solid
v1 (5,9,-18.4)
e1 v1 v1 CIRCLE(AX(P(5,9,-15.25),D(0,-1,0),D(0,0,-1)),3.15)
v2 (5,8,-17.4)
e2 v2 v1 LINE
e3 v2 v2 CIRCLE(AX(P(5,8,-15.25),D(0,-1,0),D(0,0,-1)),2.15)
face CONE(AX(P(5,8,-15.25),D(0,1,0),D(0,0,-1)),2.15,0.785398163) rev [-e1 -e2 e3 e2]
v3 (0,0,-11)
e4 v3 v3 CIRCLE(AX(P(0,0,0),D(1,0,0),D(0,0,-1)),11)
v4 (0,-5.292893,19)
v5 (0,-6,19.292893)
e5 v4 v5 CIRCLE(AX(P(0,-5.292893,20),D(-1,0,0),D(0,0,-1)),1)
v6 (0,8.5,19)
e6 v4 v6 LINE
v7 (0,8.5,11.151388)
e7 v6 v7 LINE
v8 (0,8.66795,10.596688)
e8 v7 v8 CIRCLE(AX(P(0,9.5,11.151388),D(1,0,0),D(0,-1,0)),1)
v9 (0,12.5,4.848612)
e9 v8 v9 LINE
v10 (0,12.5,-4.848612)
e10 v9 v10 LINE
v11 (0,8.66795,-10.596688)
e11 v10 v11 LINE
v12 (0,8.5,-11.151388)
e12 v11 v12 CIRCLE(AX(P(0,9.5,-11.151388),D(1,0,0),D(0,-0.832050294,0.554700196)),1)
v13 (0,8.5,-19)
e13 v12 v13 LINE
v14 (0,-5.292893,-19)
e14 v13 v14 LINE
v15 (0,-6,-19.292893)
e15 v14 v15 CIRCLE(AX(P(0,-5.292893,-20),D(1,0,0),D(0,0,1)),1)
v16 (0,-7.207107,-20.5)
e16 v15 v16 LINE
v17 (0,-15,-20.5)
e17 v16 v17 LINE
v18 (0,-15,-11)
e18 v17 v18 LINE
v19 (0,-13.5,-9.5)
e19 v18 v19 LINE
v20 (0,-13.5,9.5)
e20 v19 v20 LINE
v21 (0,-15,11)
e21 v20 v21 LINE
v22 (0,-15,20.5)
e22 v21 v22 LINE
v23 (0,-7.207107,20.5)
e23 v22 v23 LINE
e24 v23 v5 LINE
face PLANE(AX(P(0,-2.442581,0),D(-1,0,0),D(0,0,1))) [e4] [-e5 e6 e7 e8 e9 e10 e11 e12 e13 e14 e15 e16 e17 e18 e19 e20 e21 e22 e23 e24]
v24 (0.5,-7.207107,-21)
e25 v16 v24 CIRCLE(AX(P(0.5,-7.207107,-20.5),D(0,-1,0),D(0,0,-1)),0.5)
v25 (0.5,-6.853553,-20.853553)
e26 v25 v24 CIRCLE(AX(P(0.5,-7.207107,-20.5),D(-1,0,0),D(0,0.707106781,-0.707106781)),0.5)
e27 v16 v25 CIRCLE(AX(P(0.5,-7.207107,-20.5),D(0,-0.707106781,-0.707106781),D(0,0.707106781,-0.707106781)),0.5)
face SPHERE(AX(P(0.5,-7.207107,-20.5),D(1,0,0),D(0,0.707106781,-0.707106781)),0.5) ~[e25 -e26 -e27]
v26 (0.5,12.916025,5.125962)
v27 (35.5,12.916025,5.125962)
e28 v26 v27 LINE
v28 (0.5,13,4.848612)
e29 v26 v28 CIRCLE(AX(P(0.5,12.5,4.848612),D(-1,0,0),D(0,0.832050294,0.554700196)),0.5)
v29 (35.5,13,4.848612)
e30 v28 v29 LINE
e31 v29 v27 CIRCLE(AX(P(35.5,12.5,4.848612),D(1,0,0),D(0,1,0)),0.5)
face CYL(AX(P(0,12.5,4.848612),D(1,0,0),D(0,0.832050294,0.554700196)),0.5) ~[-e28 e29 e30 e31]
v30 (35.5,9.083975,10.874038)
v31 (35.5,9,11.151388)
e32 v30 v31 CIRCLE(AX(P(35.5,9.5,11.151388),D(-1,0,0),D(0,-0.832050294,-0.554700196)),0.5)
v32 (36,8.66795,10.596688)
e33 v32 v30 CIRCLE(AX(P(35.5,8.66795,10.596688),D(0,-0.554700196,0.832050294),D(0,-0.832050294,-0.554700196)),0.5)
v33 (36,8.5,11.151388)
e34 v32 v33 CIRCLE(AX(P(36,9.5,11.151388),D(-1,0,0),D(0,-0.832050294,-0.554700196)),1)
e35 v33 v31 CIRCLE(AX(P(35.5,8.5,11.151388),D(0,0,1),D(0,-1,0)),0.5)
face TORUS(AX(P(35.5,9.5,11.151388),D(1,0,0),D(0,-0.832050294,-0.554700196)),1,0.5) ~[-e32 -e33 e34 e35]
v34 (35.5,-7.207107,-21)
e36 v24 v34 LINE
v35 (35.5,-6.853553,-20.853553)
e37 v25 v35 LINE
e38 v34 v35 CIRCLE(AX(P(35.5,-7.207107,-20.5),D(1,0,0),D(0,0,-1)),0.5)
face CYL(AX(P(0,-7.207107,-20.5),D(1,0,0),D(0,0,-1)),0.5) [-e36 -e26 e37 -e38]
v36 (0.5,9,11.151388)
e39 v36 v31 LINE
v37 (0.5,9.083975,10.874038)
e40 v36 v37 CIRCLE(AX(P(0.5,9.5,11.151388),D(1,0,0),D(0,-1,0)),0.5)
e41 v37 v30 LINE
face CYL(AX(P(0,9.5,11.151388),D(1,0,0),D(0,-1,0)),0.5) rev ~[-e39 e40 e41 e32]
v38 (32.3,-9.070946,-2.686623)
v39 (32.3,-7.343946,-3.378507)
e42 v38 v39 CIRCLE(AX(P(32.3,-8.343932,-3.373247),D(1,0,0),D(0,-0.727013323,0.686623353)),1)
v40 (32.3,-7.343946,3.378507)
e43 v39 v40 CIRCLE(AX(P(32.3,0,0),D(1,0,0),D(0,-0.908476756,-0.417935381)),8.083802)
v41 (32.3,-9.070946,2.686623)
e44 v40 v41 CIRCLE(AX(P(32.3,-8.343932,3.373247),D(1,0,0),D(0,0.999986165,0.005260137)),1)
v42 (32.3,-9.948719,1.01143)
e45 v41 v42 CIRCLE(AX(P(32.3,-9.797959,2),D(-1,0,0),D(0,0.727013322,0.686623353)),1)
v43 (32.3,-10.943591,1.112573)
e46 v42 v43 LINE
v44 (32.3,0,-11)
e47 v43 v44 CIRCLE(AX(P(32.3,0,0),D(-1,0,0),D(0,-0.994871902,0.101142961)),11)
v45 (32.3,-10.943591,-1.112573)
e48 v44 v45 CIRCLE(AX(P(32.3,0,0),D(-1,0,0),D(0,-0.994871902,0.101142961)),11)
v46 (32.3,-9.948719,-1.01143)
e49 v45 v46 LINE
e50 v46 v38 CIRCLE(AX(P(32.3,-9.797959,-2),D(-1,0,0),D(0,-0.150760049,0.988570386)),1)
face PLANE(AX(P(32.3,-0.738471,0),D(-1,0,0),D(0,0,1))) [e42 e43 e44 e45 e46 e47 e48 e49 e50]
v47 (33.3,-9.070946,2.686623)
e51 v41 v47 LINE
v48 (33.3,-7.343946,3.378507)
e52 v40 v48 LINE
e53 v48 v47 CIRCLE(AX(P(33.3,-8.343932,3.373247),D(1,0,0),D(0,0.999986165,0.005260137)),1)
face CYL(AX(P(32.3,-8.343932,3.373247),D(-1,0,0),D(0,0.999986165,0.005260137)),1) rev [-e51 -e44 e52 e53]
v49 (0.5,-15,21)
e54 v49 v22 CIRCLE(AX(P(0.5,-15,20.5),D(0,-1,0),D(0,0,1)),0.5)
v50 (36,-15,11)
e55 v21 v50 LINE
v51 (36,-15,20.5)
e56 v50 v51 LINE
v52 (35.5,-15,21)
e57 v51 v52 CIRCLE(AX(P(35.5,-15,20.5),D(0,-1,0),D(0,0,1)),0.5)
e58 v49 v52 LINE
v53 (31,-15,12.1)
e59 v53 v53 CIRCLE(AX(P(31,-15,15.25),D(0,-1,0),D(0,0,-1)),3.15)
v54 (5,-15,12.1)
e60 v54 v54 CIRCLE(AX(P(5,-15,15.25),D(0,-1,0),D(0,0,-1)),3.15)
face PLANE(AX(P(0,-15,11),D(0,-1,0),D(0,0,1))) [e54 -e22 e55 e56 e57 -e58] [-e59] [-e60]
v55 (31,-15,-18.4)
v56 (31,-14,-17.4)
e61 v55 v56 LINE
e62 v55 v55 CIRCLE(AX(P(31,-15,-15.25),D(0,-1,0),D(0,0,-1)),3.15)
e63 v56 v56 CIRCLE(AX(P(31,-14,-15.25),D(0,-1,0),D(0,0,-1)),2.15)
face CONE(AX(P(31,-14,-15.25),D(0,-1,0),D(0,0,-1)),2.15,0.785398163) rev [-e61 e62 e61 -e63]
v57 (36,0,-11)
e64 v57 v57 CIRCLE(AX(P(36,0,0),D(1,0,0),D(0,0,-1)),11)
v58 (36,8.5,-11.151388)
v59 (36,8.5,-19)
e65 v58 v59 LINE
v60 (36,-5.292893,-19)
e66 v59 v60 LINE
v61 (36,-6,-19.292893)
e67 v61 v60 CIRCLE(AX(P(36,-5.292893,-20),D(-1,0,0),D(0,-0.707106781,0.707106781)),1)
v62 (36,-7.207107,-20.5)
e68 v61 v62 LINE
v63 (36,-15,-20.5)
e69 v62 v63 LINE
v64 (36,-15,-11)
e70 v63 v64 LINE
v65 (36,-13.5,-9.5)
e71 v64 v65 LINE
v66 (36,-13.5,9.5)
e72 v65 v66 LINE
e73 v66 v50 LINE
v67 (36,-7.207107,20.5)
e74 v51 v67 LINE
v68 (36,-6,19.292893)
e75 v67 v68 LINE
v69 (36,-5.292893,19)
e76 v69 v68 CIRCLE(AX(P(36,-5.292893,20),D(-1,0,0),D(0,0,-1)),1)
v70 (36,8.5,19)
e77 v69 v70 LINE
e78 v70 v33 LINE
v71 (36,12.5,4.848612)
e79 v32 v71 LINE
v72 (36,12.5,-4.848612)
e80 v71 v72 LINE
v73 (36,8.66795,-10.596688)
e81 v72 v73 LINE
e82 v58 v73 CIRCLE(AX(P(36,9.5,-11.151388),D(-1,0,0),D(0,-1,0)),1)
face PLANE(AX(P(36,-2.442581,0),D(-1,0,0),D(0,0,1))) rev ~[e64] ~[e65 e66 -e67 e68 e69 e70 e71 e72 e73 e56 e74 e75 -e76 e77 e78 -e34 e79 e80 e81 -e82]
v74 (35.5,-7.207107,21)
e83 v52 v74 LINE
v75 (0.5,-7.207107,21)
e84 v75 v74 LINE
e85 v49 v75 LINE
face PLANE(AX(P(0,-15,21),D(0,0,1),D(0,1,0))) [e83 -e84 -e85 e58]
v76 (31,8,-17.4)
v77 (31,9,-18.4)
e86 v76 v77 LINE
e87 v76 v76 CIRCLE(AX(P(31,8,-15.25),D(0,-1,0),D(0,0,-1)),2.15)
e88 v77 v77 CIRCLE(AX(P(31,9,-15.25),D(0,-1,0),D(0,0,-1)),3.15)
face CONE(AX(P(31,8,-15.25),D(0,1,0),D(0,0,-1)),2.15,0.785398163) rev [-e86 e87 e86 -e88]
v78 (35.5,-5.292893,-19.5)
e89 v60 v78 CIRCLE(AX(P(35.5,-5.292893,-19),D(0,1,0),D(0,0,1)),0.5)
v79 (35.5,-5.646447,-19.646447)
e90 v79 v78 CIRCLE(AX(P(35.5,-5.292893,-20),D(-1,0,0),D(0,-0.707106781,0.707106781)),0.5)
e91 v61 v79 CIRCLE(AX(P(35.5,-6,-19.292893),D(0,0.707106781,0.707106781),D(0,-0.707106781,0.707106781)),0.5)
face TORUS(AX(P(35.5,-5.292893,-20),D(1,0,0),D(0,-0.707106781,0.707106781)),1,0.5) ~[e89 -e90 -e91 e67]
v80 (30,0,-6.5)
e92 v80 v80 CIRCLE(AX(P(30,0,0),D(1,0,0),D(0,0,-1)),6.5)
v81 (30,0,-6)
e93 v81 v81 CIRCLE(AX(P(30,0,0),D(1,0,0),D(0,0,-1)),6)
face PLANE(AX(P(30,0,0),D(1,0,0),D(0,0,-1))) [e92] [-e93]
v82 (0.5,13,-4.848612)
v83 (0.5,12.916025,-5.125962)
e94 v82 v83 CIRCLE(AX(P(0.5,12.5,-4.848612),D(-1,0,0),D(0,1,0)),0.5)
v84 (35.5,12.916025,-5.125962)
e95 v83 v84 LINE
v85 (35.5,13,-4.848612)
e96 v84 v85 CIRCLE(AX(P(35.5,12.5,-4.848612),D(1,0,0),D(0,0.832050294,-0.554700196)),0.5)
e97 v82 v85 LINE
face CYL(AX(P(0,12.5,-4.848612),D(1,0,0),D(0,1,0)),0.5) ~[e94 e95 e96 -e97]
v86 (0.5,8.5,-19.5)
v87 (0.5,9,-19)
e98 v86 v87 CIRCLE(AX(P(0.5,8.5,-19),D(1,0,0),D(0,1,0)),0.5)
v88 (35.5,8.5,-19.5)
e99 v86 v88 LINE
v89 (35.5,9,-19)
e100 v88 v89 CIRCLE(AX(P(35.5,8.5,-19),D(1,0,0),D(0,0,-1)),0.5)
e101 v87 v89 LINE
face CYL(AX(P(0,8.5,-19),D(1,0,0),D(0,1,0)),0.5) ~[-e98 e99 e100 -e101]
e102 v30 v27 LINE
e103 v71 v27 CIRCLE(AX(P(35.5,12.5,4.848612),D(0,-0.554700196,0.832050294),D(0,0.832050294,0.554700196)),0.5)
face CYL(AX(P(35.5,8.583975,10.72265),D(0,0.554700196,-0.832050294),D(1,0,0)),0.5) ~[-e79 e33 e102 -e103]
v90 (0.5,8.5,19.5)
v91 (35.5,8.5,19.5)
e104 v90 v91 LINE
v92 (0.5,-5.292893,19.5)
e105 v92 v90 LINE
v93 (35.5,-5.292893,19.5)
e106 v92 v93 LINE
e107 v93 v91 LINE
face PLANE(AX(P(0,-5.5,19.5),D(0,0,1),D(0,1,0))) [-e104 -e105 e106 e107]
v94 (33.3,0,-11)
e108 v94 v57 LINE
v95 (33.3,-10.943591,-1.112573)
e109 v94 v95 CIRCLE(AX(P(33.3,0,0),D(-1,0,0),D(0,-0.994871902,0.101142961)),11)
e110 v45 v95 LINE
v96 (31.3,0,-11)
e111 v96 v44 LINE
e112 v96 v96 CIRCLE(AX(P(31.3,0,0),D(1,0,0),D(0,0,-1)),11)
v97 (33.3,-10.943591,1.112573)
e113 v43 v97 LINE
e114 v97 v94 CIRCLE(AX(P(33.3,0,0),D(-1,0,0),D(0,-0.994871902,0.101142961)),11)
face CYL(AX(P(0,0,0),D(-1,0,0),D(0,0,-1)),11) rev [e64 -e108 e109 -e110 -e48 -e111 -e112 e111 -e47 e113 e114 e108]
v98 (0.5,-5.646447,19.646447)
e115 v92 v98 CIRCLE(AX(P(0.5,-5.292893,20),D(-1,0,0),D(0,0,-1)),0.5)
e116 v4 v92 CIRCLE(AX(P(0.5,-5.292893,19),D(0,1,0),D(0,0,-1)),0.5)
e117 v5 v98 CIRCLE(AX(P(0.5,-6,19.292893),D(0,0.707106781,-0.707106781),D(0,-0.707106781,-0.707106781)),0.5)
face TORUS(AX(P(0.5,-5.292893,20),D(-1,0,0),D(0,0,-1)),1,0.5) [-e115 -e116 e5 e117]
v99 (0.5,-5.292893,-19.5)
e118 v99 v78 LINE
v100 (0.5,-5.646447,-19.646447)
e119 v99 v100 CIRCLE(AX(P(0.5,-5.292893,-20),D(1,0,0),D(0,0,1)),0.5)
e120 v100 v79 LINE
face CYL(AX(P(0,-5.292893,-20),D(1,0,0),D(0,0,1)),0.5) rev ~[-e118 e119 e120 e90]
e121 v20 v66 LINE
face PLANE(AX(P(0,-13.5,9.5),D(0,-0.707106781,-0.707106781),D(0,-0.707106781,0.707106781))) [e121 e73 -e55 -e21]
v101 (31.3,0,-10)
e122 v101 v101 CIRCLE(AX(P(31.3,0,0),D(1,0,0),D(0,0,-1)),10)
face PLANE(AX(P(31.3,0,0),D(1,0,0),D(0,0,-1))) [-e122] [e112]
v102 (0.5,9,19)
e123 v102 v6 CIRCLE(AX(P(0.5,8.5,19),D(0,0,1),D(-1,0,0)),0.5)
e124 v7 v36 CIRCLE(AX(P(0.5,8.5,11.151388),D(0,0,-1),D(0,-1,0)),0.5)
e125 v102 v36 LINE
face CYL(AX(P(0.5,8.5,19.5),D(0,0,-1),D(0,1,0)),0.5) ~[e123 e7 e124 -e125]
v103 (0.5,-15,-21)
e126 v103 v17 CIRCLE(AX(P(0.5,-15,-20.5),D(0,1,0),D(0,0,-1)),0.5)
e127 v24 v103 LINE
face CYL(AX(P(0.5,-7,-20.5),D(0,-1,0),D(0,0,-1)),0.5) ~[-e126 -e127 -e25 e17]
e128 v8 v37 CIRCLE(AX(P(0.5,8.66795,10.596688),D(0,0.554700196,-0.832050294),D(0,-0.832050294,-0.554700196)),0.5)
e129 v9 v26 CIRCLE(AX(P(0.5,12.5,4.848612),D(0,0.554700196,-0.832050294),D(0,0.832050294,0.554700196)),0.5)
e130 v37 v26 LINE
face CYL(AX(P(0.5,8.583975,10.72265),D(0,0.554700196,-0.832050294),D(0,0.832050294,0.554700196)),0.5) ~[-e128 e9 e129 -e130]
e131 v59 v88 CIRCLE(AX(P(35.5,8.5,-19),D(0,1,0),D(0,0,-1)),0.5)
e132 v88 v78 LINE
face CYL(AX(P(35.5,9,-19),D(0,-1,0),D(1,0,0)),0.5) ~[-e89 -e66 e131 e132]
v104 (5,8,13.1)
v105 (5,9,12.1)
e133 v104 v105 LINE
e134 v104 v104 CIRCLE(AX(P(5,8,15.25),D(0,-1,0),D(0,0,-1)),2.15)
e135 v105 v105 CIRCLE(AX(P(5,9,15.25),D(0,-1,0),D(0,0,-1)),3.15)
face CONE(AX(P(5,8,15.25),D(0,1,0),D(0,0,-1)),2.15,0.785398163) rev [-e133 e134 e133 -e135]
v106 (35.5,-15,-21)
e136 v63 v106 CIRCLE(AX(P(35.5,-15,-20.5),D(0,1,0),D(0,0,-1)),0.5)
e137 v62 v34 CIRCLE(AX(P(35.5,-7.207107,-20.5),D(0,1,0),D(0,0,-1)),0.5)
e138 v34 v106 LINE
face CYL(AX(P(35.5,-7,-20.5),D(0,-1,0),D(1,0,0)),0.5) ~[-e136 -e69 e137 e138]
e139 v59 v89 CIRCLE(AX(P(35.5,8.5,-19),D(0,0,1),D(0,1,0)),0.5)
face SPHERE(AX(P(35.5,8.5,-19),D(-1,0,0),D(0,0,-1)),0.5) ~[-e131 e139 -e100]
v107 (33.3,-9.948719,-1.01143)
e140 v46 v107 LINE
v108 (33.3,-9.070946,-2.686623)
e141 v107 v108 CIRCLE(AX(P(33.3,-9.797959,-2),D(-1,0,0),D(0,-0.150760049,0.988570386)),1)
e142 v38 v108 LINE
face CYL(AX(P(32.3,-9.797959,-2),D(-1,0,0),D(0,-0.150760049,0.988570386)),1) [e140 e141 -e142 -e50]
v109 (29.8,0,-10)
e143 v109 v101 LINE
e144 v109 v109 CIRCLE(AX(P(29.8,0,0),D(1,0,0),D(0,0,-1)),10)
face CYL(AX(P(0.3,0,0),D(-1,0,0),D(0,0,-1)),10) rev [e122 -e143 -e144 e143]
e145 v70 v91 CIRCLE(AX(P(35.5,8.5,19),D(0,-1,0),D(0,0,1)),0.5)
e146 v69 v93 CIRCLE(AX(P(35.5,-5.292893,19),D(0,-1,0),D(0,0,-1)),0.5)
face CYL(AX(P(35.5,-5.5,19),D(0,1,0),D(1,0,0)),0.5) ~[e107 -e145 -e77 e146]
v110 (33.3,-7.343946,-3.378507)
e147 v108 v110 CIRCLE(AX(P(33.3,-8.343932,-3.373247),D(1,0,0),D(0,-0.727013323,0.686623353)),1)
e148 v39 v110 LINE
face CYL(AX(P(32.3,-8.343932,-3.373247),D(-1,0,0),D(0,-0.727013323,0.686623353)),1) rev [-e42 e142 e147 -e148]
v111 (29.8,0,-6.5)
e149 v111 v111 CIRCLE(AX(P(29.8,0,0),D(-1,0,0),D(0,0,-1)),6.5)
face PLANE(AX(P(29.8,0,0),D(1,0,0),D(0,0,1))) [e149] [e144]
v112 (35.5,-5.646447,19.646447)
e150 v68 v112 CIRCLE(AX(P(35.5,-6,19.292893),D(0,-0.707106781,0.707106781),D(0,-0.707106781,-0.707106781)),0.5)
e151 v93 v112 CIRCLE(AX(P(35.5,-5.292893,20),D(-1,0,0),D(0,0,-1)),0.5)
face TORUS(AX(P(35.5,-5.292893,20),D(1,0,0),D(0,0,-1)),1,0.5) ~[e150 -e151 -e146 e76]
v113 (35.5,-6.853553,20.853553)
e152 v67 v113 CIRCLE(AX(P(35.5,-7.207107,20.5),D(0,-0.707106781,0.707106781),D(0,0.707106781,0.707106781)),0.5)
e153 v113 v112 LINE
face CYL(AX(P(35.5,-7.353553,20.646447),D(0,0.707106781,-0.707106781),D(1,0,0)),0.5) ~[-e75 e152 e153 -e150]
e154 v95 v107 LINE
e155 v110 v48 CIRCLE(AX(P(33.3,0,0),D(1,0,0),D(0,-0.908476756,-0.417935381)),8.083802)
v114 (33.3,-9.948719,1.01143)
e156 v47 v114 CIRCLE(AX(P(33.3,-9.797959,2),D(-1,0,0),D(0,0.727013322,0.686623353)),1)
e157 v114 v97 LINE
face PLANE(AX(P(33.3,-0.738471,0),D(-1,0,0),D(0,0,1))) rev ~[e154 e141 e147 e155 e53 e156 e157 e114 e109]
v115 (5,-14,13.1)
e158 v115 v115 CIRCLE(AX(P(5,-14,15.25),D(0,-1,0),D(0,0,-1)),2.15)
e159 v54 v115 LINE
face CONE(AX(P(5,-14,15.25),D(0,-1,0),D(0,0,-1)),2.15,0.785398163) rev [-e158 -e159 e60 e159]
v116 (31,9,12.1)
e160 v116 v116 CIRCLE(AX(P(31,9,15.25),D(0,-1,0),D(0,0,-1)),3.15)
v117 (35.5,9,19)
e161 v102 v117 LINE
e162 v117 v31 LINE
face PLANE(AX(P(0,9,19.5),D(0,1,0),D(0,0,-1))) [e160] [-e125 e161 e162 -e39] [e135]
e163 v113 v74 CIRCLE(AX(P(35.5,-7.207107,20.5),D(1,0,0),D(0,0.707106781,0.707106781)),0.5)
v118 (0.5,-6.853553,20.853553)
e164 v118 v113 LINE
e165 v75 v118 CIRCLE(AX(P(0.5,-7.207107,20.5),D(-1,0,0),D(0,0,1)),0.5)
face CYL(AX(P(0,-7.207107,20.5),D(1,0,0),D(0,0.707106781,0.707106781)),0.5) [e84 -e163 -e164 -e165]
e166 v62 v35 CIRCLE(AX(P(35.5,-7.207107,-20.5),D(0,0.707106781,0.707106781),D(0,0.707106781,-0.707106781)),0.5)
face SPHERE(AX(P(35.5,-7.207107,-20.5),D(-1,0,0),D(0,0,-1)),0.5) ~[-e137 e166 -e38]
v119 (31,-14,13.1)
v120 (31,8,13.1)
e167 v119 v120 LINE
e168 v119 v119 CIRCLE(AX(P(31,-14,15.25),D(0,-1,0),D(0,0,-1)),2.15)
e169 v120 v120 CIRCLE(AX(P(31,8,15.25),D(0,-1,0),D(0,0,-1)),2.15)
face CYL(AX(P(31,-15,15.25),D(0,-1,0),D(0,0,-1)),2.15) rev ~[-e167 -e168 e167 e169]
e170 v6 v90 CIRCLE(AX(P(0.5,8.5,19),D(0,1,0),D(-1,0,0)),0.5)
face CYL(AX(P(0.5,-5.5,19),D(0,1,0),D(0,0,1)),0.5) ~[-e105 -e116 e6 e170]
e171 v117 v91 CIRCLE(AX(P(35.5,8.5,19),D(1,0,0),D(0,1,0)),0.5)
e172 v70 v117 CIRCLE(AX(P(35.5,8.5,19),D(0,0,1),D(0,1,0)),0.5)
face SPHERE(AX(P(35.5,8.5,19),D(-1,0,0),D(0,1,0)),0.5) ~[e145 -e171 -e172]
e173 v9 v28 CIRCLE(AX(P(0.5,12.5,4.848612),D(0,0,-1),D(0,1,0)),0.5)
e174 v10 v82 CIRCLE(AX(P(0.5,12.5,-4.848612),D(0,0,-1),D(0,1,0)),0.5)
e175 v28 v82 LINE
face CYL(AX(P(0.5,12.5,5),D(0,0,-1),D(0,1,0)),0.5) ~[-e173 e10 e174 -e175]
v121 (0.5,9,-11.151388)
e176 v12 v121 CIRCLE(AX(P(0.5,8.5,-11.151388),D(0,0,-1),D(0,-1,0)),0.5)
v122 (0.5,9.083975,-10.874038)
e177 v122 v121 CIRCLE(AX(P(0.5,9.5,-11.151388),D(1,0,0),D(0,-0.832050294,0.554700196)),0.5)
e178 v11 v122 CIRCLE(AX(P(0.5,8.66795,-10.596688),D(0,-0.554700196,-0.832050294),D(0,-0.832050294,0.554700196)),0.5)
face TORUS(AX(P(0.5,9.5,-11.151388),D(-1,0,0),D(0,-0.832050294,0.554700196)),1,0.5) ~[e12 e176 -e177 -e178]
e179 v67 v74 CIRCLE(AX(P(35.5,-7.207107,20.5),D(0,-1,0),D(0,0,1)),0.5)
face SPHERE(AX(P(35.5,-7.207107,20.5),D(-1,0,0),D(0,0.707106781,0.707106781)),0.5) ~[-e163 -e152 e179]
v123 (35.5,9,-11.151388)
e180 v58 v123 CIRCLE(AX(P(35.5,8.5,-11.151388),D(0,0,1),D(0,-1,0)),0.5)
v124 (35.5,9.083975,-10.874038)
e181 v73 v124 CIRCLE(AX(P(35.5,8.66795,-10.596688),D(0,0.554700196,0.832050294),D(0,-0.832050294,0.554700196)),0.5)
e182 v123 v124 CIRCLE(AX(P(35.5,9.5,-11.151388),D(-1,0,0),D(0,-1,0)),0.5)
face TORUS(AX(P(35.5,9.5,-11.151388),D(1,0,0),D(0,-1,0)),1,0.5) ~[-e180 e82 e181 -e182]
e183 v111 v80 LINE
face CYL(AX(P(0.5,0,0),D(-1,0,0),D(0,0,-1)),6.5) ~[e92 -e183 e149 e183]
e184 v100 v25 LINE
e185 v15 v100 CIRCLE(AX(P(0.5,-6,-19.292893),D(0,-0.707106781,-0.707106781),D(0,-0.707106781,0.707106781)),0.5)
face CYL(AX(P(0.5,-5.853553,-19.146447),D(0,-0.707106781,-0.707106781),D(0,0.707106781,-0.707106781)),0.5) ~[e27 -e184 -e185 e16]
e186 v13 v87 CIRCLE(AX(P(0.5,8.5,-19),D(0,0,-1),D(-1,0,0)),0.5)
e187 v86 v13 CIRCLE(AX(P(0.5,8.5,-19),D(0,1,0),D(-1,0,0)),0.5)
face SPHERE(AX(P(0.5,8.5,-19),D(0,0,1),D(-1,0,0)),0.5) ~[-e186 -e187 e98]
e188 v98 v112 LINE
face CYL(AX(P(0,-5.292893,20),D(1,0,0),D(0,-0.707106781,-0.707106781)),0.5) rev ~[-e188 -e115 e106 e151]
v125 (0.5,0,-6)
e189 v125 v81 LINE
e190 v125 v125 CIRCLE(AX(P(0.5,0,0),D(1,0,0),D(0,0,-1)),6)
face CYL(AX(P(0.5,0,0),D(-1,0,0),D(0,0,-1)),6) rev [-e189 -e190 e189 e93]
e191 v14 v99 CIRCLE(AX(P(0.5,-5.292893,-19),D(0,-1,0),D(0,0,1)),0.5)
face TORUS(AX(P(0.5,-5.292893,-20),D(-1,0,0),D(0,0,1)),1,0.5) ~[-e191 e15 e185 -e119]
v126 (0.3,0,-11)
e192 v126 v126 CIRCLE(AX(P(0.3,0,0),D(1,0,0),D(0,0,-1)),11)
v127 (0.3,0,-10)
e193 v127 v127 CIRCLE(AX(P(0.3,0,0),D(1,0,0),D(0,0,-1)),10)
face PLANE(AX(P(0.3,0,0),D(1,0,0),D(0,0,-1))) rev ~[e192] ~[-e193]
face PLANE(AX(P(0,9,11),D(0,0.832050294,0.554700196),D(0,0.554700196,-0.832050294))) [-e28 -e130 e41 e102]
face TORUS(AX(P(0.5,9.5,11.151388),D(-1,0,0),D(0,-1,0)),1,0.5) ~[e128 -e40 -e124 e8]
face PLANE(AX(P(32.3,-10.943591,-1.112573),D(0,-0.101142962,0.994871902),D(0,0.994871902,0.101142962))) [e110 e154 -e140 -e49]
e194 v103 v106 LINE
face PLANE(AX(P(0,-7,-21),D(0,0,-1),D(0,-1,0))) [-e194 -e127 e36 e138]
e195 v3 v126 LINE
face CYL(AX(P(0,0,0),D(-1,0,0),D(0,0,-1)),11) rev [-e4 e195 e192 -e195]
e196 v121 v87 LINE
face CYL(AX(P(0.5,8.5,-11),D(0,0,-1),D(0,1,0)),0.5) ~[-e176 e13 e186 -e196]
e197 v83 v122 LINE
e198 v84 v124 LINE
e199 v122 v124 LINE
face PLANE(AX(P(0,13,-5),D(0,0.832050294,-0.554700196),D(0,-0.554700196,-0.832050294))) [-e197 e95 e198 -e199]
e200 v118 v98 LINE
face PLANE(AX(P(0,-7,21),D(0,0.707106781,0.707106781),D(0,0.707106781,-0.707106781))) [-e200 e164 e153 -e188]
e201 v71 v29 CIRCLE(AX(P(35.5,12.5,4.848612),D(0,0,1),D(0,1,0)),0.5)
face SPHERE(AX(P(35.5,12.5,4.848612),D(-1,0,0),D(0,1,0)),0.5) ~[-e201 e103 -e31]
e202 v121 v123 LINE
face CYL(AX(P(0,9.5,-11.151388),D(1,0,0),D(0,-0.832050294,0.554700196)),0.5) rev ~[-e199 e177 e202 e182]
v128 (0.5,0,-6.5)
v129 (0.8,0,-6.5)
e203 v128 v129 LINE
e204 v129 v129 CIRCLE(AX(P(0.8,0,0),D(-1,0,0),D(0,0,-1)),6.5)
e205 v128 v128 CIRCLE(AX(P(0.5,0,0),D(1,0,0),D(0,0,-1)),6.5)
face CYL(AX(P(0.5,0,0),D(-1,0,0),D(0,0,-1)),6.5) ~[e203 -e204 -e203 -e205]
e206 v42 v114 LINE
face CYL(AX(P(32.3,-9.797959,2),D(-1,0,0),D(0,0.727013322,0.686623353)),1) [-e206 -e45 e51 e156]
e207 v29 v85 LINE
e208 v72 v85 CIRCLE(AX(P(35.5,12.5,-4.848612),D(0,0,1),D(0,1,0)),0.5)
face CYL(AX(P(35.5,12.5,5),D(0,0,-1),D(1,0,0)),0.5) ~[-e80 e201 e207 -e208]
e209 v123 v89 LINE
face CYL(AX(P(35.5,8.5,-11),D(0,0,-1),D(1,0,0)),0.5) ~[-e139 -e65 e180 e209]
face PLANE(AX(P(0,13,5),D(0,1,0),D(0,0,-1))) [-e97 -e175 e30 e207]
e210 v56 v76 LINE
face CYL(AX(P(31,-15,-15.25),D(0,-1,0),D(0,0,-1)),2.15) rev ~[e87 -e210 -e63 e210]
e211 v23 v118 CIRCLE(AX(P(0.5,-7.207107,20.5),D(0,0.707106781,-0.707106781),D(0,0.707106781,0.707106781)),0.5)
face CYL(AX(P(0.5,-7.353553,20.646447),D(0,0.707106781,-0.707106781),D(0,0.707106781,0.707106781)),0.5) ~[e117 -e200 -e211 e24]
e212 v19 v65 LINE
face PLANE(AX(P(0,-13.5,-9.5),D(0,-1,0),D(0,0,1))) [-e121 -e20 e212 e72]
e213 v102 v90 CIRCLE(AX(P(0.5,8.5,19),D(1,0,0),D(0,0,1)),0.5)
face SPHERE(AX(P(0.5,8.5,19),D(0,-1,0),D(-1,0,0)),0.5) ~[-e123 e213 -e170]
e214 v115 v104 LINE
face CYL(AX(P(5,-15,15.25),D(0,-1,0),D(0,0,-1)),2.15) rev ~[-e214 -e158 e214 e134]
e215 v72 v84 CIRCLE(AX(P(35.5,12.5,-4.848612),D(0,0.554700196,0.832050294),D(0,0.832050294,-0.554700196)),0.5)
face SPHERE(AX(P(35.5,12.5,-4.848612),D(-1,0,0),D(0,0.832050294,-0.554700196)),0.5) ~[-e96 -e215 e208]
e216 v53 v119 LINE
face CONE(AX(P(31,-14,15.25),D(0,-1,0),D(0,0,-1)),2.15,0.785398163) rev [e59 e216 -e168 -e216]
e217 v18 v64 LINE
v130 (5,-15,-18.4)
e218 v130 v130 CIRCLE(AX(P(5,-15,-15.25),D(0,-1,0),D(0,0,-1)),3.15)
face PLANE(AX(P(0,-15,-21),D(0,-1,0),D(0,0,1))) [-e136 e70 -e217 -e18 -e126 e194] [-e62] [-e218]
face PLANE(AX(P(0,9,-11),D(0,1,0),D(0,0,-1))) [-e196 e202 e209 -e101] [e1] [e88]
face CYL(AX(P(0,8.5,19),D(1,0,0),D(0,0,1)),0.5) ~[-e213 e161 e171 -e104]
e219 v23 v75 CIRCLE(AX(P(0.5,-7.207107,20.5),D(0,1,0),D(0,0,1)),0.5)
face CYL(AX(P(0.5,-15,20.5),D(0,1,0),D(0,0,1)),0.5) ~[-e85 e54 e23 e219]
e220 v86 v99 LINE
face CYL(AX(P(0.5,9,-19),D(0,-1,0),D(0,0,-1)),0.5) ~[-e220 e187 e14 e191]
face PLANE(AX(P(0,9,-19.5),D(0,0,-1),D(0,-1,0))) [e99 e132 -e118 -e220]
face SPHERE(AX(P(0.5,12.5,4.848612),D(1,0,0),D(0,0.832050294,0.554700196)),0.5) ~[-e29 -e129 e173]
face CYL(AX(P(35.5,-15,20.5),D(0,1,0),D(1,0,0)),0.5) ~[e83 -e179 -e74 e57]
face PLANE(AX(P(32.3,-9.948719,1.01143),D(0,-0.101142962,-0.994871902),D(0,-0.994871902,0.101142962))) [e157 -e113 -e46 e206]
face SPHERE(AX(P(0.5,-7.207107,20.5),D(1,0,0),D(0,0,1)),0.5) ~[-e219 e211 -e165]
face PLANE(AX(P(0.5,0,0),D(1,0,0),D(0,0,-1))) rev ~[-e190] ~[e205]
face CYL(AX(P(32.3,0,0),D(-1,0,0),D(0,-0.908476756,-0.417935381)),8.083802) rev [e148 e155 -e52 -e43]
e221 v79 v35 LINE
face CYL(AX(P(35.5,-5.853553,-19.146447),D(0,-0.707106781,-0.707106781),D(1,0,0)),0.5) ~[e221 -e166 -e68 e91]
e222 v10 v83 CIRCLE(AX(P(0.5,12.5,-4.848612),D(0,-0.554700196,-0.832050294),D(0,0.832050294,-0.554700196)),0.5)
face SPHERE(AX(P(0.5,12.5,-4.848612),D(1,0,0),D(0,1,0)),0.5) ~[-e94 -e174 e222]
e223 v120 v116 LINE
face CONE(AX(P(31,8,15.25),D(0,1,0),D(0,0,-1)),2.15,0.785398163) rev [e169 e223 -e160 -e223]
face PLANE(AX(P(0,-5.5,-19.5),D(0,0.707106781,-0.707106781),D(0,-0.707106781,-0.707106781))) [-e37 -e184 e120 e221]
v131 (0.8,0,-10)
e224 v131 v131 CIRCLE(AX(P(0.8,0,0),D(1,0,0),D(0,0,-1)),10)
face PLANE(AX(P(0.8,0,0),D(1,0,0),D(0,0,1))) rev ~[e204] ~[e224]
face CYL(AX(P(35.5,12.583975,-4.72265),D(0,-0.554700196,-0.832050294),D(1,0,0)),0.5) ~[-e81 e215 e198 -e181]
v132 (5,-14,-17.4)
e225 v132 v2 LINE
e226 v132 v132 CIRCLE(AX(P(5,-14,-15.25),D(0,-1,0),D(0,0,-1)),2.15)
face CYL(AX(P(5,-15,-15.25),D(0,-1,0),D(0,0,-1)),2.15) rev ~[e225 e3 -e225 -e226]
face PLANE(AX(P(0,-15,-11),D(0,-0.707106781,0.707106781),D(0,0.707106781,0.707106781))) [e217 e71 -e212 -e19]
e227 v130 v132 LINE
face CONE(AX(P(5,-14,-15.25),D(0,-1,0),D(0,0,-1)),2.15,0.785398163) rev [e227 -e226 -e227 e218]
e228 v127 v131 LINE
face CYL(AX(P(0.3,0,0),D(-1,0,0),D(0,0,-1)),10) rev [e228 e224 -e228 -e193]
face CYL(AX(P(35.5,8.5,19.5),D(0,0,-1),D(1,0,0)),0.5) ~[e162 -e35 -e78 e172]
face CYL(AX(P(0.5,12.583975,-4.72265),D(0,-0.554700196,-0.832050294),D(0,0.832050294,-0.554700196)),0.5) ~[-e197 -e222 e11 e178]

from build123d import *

# Parameters (mm, degrees)
SKETCH1_R           = 11
BOSS_EXTRUDE1_DEPTH = 36
EXTRUDE_THIN1_START = 0.5
SKETCH1_4_R         = 6.5
SKETCH1_4_R_2       = 6
EXTRUDE_THIN1_DEPTH = 29.5
BOSS_EXTRUDE2_START = 0.8
SKETCH1_5_R         = 10
SKETCH1_5_R_2       = 6
BOSS_EXTRUDE2_DEPTH = 29
BOSS_EXTRUDE3_START = 0.3
SKETCH1_6_R         = 11
SKETCH1_6_R_2       = 10
BOSS_EXTRUDE3_DEPTH = 31
BOSS_EXTRUDE4_START = 1
BOSS_EXTRUDE4_DEPTH = 1
FILLET1_R           = 0.5
SKETCH4_R           = 2.15
CUT_EXTRUDE3_DEPTH  = 51.209560914
CHAMFER1_SIZE       = 1


with BuildPart() as part:
    # Sketch1 → Boss-Extrude1 (new body)
    with BuildSketch(Plane(origin=(0, 0, 0), x_dir=(0, 0, -1), z_dir=(1, 0, 0))):
        Polygon((-21, -15), (-11, -15), (-9.5, -13.5), (9.5, -13.5), (11, -15), (21, -15), (21, -7), (19.5, -5.5), (19.5, 9), (11, 9), (5, 13), (-5, 13), (-11, 9), (-19.5, 9), (-19.5, -5.5), (-21, -7), align=None)
        Circle(SKETCH1_R, mode=Mode.SUBTRACT)
    extrude(amount=BOSS_EXTRUDE1_DEPTH)



with BuildPart() as body_2:
    # Sketch1<4> → Extrude-Thin1 (new body)
    with BuildSketch(Plane(origin=(0, 0, 0), x_dir=(0, 0, -1), z_dir=(1, 0, 0)).offset(EXTRUDE_THIN1_START)):
        Circle(SKETCH1_4_R)
        Circle(SKETCH1_4_R_2, mode=Mode.SUBTRACT)
    extrude(amount=EXTRUDE_THIN1_DEPTH)

    # Sketch1<5> → Boss-Extrude2 (add)
    with BuildSketch(Plane(origin=(0, 0, 0), x_dir=(0, 0, -1), z_dir=(1, 0, 0)).offset(BOSS_EXTRUDE2_START)):
        Circle(SKETCH1_5_R)
        Circle(SKETCH1_5_R_2, mode=Mode.SUBTRACT)
    extrude(amount=BOSS_EXTRUDE2_DEPTH)


with BuildPart() as part_1:
    add(part.part)

    add(body_2.part)  # Boss-Extrude3 merges body 2
    # Sketch1<6> → Boss-Extrude3 (add)
    with BuildSketch(Plane(origin=(0, 0, 0), x_dir=(0, 0, -1), z_dir=(1, 0, 0)).offset(BOSS_EXTRUDE3_START)):
        Circle(SKETCH1_6_R)
        Circle(SKETCH1_6_R_2, mode=Mode.SUBTRACT)
    extrude(amount=BOSS_EXTRUDE3_DEPTH)

    # Sketch3 → Boss-Extrude4 (add)
    with BuildSketch(Plane(origin=(31.3, 0, 0), x_dir=(0, 0, -1), z_dir=(1, 0, 0)).offset(BOSS_EXTRUDE4_START)):
        with BuildLine():
            Line((-1.011429614, -9.94871902), (-1.112572576, -10.943590922))
            ThreePointArc((-1.112572576, -10.943590922), (0, 11), (1.112572576, -10.943590922))
            Line((1.112572576, -10.943590922), (1.011429614, -9.94871902))
            ThreePointArc((1.011429614, -9.94871902), (1.535872296, -8.912190675), (2.686623353, -9.070945649))
            ThreePointArc((2.686623353, -9.070945649), (4.301522401, -8.715825098), (3.378506843, -7.343946161))
            ThreePointArc((3.378506843, -7.343946161), (0, 8.083801933), (-3.378506843, -7.343946161))
            ThreePointArc((-3.378506843, -7.343946161), (-4.301522401, -8.715825098), (-2.686623353, -9.070945649))
            ThreePointArc((-2.686623353, -9.070945649), (-1.535872296, -8.912190675), (-1.011429614, -9.94871902))
        make_face()
    extrude(amount=BOSS_EXTRUDE4_DEPTH)

    # Fillet1
    fillet1_edges = [part_1.edges().sort_by_distance(p)[0] for p in [
        (18, -5.5, -19.5),
        (18, -5.5, 19.5),
        (18, -7, 21),
        (18, -7, -21),
        (18, 9, -11),
        (18, 9, 11),
        (18, 13, 5),
        (18, 13, -5),
        (18, 9, -19.5),
        (18, 9, 19.5),
        (36, 11, -8),
        (36, 11, 8),
        (36, 1.75, 19.5),
        (0, -6.25, 20.25),
        (0, 11, 8),
        (36, -6.25, -20.25),
        (36, -11, -21),
        (36, 1.75, -19.5),
        (36, 13, 0),
        (36, 9, -15.25),
        (36, 9, 15.25),
        (36, -6.25, 20.25),
        (36, -11, 21),
        (0, -11, -21),
        (0, -6.25, -20.25),
        (0, 1.75, -19.5),
        (0, 11, -8),
        (0, 9, -15.25),
        (0, 13, 0),
        (0, -11, 21),
        (0, 1.75, 19.5),
        (0, 9, 15.25),
    ]]
    fillet(fillet1_edges, radius=FILLET1_R)

    # Sketch4 → Cut-Extrude3 (cut, through all)
    with BuildSketch(Plane.XZ.offset(15)):
        with Locations((5, 15.25)):
            Circle(SKETCH4_R)
        with Locations((31, 15.25)):
            Circle(SKETCH4_R)
        with Locations((31, -15.25)):
            Circle(SKETCH4_R)
        with Locations((5, -15.25)):
            Circle(SKETCH4_R)
    extrude(amount=-CUT_EXTRUDE3_DEPTH, mode=Mode.SUBTRACT)

    # Chamfer1
    chamfer1_edges = [part_1.edges().sort_by_distance(p)[0] for p in [
        (28.85, 9, -15.25),
        (2.85, 9, -15.25),
        (2.85, 9, 15.25),
        (28.85, 9, 15.25),
        (28.85, -15, 15.25),
        (2.85, -15, 15.25),
        (28.85, -15, -15.25),
        (2.85, -15, -15.25),
    ]]
    chamfer(chamfer1_edges, length=CHAMFER1_SIZE)


solid = part_1.part
